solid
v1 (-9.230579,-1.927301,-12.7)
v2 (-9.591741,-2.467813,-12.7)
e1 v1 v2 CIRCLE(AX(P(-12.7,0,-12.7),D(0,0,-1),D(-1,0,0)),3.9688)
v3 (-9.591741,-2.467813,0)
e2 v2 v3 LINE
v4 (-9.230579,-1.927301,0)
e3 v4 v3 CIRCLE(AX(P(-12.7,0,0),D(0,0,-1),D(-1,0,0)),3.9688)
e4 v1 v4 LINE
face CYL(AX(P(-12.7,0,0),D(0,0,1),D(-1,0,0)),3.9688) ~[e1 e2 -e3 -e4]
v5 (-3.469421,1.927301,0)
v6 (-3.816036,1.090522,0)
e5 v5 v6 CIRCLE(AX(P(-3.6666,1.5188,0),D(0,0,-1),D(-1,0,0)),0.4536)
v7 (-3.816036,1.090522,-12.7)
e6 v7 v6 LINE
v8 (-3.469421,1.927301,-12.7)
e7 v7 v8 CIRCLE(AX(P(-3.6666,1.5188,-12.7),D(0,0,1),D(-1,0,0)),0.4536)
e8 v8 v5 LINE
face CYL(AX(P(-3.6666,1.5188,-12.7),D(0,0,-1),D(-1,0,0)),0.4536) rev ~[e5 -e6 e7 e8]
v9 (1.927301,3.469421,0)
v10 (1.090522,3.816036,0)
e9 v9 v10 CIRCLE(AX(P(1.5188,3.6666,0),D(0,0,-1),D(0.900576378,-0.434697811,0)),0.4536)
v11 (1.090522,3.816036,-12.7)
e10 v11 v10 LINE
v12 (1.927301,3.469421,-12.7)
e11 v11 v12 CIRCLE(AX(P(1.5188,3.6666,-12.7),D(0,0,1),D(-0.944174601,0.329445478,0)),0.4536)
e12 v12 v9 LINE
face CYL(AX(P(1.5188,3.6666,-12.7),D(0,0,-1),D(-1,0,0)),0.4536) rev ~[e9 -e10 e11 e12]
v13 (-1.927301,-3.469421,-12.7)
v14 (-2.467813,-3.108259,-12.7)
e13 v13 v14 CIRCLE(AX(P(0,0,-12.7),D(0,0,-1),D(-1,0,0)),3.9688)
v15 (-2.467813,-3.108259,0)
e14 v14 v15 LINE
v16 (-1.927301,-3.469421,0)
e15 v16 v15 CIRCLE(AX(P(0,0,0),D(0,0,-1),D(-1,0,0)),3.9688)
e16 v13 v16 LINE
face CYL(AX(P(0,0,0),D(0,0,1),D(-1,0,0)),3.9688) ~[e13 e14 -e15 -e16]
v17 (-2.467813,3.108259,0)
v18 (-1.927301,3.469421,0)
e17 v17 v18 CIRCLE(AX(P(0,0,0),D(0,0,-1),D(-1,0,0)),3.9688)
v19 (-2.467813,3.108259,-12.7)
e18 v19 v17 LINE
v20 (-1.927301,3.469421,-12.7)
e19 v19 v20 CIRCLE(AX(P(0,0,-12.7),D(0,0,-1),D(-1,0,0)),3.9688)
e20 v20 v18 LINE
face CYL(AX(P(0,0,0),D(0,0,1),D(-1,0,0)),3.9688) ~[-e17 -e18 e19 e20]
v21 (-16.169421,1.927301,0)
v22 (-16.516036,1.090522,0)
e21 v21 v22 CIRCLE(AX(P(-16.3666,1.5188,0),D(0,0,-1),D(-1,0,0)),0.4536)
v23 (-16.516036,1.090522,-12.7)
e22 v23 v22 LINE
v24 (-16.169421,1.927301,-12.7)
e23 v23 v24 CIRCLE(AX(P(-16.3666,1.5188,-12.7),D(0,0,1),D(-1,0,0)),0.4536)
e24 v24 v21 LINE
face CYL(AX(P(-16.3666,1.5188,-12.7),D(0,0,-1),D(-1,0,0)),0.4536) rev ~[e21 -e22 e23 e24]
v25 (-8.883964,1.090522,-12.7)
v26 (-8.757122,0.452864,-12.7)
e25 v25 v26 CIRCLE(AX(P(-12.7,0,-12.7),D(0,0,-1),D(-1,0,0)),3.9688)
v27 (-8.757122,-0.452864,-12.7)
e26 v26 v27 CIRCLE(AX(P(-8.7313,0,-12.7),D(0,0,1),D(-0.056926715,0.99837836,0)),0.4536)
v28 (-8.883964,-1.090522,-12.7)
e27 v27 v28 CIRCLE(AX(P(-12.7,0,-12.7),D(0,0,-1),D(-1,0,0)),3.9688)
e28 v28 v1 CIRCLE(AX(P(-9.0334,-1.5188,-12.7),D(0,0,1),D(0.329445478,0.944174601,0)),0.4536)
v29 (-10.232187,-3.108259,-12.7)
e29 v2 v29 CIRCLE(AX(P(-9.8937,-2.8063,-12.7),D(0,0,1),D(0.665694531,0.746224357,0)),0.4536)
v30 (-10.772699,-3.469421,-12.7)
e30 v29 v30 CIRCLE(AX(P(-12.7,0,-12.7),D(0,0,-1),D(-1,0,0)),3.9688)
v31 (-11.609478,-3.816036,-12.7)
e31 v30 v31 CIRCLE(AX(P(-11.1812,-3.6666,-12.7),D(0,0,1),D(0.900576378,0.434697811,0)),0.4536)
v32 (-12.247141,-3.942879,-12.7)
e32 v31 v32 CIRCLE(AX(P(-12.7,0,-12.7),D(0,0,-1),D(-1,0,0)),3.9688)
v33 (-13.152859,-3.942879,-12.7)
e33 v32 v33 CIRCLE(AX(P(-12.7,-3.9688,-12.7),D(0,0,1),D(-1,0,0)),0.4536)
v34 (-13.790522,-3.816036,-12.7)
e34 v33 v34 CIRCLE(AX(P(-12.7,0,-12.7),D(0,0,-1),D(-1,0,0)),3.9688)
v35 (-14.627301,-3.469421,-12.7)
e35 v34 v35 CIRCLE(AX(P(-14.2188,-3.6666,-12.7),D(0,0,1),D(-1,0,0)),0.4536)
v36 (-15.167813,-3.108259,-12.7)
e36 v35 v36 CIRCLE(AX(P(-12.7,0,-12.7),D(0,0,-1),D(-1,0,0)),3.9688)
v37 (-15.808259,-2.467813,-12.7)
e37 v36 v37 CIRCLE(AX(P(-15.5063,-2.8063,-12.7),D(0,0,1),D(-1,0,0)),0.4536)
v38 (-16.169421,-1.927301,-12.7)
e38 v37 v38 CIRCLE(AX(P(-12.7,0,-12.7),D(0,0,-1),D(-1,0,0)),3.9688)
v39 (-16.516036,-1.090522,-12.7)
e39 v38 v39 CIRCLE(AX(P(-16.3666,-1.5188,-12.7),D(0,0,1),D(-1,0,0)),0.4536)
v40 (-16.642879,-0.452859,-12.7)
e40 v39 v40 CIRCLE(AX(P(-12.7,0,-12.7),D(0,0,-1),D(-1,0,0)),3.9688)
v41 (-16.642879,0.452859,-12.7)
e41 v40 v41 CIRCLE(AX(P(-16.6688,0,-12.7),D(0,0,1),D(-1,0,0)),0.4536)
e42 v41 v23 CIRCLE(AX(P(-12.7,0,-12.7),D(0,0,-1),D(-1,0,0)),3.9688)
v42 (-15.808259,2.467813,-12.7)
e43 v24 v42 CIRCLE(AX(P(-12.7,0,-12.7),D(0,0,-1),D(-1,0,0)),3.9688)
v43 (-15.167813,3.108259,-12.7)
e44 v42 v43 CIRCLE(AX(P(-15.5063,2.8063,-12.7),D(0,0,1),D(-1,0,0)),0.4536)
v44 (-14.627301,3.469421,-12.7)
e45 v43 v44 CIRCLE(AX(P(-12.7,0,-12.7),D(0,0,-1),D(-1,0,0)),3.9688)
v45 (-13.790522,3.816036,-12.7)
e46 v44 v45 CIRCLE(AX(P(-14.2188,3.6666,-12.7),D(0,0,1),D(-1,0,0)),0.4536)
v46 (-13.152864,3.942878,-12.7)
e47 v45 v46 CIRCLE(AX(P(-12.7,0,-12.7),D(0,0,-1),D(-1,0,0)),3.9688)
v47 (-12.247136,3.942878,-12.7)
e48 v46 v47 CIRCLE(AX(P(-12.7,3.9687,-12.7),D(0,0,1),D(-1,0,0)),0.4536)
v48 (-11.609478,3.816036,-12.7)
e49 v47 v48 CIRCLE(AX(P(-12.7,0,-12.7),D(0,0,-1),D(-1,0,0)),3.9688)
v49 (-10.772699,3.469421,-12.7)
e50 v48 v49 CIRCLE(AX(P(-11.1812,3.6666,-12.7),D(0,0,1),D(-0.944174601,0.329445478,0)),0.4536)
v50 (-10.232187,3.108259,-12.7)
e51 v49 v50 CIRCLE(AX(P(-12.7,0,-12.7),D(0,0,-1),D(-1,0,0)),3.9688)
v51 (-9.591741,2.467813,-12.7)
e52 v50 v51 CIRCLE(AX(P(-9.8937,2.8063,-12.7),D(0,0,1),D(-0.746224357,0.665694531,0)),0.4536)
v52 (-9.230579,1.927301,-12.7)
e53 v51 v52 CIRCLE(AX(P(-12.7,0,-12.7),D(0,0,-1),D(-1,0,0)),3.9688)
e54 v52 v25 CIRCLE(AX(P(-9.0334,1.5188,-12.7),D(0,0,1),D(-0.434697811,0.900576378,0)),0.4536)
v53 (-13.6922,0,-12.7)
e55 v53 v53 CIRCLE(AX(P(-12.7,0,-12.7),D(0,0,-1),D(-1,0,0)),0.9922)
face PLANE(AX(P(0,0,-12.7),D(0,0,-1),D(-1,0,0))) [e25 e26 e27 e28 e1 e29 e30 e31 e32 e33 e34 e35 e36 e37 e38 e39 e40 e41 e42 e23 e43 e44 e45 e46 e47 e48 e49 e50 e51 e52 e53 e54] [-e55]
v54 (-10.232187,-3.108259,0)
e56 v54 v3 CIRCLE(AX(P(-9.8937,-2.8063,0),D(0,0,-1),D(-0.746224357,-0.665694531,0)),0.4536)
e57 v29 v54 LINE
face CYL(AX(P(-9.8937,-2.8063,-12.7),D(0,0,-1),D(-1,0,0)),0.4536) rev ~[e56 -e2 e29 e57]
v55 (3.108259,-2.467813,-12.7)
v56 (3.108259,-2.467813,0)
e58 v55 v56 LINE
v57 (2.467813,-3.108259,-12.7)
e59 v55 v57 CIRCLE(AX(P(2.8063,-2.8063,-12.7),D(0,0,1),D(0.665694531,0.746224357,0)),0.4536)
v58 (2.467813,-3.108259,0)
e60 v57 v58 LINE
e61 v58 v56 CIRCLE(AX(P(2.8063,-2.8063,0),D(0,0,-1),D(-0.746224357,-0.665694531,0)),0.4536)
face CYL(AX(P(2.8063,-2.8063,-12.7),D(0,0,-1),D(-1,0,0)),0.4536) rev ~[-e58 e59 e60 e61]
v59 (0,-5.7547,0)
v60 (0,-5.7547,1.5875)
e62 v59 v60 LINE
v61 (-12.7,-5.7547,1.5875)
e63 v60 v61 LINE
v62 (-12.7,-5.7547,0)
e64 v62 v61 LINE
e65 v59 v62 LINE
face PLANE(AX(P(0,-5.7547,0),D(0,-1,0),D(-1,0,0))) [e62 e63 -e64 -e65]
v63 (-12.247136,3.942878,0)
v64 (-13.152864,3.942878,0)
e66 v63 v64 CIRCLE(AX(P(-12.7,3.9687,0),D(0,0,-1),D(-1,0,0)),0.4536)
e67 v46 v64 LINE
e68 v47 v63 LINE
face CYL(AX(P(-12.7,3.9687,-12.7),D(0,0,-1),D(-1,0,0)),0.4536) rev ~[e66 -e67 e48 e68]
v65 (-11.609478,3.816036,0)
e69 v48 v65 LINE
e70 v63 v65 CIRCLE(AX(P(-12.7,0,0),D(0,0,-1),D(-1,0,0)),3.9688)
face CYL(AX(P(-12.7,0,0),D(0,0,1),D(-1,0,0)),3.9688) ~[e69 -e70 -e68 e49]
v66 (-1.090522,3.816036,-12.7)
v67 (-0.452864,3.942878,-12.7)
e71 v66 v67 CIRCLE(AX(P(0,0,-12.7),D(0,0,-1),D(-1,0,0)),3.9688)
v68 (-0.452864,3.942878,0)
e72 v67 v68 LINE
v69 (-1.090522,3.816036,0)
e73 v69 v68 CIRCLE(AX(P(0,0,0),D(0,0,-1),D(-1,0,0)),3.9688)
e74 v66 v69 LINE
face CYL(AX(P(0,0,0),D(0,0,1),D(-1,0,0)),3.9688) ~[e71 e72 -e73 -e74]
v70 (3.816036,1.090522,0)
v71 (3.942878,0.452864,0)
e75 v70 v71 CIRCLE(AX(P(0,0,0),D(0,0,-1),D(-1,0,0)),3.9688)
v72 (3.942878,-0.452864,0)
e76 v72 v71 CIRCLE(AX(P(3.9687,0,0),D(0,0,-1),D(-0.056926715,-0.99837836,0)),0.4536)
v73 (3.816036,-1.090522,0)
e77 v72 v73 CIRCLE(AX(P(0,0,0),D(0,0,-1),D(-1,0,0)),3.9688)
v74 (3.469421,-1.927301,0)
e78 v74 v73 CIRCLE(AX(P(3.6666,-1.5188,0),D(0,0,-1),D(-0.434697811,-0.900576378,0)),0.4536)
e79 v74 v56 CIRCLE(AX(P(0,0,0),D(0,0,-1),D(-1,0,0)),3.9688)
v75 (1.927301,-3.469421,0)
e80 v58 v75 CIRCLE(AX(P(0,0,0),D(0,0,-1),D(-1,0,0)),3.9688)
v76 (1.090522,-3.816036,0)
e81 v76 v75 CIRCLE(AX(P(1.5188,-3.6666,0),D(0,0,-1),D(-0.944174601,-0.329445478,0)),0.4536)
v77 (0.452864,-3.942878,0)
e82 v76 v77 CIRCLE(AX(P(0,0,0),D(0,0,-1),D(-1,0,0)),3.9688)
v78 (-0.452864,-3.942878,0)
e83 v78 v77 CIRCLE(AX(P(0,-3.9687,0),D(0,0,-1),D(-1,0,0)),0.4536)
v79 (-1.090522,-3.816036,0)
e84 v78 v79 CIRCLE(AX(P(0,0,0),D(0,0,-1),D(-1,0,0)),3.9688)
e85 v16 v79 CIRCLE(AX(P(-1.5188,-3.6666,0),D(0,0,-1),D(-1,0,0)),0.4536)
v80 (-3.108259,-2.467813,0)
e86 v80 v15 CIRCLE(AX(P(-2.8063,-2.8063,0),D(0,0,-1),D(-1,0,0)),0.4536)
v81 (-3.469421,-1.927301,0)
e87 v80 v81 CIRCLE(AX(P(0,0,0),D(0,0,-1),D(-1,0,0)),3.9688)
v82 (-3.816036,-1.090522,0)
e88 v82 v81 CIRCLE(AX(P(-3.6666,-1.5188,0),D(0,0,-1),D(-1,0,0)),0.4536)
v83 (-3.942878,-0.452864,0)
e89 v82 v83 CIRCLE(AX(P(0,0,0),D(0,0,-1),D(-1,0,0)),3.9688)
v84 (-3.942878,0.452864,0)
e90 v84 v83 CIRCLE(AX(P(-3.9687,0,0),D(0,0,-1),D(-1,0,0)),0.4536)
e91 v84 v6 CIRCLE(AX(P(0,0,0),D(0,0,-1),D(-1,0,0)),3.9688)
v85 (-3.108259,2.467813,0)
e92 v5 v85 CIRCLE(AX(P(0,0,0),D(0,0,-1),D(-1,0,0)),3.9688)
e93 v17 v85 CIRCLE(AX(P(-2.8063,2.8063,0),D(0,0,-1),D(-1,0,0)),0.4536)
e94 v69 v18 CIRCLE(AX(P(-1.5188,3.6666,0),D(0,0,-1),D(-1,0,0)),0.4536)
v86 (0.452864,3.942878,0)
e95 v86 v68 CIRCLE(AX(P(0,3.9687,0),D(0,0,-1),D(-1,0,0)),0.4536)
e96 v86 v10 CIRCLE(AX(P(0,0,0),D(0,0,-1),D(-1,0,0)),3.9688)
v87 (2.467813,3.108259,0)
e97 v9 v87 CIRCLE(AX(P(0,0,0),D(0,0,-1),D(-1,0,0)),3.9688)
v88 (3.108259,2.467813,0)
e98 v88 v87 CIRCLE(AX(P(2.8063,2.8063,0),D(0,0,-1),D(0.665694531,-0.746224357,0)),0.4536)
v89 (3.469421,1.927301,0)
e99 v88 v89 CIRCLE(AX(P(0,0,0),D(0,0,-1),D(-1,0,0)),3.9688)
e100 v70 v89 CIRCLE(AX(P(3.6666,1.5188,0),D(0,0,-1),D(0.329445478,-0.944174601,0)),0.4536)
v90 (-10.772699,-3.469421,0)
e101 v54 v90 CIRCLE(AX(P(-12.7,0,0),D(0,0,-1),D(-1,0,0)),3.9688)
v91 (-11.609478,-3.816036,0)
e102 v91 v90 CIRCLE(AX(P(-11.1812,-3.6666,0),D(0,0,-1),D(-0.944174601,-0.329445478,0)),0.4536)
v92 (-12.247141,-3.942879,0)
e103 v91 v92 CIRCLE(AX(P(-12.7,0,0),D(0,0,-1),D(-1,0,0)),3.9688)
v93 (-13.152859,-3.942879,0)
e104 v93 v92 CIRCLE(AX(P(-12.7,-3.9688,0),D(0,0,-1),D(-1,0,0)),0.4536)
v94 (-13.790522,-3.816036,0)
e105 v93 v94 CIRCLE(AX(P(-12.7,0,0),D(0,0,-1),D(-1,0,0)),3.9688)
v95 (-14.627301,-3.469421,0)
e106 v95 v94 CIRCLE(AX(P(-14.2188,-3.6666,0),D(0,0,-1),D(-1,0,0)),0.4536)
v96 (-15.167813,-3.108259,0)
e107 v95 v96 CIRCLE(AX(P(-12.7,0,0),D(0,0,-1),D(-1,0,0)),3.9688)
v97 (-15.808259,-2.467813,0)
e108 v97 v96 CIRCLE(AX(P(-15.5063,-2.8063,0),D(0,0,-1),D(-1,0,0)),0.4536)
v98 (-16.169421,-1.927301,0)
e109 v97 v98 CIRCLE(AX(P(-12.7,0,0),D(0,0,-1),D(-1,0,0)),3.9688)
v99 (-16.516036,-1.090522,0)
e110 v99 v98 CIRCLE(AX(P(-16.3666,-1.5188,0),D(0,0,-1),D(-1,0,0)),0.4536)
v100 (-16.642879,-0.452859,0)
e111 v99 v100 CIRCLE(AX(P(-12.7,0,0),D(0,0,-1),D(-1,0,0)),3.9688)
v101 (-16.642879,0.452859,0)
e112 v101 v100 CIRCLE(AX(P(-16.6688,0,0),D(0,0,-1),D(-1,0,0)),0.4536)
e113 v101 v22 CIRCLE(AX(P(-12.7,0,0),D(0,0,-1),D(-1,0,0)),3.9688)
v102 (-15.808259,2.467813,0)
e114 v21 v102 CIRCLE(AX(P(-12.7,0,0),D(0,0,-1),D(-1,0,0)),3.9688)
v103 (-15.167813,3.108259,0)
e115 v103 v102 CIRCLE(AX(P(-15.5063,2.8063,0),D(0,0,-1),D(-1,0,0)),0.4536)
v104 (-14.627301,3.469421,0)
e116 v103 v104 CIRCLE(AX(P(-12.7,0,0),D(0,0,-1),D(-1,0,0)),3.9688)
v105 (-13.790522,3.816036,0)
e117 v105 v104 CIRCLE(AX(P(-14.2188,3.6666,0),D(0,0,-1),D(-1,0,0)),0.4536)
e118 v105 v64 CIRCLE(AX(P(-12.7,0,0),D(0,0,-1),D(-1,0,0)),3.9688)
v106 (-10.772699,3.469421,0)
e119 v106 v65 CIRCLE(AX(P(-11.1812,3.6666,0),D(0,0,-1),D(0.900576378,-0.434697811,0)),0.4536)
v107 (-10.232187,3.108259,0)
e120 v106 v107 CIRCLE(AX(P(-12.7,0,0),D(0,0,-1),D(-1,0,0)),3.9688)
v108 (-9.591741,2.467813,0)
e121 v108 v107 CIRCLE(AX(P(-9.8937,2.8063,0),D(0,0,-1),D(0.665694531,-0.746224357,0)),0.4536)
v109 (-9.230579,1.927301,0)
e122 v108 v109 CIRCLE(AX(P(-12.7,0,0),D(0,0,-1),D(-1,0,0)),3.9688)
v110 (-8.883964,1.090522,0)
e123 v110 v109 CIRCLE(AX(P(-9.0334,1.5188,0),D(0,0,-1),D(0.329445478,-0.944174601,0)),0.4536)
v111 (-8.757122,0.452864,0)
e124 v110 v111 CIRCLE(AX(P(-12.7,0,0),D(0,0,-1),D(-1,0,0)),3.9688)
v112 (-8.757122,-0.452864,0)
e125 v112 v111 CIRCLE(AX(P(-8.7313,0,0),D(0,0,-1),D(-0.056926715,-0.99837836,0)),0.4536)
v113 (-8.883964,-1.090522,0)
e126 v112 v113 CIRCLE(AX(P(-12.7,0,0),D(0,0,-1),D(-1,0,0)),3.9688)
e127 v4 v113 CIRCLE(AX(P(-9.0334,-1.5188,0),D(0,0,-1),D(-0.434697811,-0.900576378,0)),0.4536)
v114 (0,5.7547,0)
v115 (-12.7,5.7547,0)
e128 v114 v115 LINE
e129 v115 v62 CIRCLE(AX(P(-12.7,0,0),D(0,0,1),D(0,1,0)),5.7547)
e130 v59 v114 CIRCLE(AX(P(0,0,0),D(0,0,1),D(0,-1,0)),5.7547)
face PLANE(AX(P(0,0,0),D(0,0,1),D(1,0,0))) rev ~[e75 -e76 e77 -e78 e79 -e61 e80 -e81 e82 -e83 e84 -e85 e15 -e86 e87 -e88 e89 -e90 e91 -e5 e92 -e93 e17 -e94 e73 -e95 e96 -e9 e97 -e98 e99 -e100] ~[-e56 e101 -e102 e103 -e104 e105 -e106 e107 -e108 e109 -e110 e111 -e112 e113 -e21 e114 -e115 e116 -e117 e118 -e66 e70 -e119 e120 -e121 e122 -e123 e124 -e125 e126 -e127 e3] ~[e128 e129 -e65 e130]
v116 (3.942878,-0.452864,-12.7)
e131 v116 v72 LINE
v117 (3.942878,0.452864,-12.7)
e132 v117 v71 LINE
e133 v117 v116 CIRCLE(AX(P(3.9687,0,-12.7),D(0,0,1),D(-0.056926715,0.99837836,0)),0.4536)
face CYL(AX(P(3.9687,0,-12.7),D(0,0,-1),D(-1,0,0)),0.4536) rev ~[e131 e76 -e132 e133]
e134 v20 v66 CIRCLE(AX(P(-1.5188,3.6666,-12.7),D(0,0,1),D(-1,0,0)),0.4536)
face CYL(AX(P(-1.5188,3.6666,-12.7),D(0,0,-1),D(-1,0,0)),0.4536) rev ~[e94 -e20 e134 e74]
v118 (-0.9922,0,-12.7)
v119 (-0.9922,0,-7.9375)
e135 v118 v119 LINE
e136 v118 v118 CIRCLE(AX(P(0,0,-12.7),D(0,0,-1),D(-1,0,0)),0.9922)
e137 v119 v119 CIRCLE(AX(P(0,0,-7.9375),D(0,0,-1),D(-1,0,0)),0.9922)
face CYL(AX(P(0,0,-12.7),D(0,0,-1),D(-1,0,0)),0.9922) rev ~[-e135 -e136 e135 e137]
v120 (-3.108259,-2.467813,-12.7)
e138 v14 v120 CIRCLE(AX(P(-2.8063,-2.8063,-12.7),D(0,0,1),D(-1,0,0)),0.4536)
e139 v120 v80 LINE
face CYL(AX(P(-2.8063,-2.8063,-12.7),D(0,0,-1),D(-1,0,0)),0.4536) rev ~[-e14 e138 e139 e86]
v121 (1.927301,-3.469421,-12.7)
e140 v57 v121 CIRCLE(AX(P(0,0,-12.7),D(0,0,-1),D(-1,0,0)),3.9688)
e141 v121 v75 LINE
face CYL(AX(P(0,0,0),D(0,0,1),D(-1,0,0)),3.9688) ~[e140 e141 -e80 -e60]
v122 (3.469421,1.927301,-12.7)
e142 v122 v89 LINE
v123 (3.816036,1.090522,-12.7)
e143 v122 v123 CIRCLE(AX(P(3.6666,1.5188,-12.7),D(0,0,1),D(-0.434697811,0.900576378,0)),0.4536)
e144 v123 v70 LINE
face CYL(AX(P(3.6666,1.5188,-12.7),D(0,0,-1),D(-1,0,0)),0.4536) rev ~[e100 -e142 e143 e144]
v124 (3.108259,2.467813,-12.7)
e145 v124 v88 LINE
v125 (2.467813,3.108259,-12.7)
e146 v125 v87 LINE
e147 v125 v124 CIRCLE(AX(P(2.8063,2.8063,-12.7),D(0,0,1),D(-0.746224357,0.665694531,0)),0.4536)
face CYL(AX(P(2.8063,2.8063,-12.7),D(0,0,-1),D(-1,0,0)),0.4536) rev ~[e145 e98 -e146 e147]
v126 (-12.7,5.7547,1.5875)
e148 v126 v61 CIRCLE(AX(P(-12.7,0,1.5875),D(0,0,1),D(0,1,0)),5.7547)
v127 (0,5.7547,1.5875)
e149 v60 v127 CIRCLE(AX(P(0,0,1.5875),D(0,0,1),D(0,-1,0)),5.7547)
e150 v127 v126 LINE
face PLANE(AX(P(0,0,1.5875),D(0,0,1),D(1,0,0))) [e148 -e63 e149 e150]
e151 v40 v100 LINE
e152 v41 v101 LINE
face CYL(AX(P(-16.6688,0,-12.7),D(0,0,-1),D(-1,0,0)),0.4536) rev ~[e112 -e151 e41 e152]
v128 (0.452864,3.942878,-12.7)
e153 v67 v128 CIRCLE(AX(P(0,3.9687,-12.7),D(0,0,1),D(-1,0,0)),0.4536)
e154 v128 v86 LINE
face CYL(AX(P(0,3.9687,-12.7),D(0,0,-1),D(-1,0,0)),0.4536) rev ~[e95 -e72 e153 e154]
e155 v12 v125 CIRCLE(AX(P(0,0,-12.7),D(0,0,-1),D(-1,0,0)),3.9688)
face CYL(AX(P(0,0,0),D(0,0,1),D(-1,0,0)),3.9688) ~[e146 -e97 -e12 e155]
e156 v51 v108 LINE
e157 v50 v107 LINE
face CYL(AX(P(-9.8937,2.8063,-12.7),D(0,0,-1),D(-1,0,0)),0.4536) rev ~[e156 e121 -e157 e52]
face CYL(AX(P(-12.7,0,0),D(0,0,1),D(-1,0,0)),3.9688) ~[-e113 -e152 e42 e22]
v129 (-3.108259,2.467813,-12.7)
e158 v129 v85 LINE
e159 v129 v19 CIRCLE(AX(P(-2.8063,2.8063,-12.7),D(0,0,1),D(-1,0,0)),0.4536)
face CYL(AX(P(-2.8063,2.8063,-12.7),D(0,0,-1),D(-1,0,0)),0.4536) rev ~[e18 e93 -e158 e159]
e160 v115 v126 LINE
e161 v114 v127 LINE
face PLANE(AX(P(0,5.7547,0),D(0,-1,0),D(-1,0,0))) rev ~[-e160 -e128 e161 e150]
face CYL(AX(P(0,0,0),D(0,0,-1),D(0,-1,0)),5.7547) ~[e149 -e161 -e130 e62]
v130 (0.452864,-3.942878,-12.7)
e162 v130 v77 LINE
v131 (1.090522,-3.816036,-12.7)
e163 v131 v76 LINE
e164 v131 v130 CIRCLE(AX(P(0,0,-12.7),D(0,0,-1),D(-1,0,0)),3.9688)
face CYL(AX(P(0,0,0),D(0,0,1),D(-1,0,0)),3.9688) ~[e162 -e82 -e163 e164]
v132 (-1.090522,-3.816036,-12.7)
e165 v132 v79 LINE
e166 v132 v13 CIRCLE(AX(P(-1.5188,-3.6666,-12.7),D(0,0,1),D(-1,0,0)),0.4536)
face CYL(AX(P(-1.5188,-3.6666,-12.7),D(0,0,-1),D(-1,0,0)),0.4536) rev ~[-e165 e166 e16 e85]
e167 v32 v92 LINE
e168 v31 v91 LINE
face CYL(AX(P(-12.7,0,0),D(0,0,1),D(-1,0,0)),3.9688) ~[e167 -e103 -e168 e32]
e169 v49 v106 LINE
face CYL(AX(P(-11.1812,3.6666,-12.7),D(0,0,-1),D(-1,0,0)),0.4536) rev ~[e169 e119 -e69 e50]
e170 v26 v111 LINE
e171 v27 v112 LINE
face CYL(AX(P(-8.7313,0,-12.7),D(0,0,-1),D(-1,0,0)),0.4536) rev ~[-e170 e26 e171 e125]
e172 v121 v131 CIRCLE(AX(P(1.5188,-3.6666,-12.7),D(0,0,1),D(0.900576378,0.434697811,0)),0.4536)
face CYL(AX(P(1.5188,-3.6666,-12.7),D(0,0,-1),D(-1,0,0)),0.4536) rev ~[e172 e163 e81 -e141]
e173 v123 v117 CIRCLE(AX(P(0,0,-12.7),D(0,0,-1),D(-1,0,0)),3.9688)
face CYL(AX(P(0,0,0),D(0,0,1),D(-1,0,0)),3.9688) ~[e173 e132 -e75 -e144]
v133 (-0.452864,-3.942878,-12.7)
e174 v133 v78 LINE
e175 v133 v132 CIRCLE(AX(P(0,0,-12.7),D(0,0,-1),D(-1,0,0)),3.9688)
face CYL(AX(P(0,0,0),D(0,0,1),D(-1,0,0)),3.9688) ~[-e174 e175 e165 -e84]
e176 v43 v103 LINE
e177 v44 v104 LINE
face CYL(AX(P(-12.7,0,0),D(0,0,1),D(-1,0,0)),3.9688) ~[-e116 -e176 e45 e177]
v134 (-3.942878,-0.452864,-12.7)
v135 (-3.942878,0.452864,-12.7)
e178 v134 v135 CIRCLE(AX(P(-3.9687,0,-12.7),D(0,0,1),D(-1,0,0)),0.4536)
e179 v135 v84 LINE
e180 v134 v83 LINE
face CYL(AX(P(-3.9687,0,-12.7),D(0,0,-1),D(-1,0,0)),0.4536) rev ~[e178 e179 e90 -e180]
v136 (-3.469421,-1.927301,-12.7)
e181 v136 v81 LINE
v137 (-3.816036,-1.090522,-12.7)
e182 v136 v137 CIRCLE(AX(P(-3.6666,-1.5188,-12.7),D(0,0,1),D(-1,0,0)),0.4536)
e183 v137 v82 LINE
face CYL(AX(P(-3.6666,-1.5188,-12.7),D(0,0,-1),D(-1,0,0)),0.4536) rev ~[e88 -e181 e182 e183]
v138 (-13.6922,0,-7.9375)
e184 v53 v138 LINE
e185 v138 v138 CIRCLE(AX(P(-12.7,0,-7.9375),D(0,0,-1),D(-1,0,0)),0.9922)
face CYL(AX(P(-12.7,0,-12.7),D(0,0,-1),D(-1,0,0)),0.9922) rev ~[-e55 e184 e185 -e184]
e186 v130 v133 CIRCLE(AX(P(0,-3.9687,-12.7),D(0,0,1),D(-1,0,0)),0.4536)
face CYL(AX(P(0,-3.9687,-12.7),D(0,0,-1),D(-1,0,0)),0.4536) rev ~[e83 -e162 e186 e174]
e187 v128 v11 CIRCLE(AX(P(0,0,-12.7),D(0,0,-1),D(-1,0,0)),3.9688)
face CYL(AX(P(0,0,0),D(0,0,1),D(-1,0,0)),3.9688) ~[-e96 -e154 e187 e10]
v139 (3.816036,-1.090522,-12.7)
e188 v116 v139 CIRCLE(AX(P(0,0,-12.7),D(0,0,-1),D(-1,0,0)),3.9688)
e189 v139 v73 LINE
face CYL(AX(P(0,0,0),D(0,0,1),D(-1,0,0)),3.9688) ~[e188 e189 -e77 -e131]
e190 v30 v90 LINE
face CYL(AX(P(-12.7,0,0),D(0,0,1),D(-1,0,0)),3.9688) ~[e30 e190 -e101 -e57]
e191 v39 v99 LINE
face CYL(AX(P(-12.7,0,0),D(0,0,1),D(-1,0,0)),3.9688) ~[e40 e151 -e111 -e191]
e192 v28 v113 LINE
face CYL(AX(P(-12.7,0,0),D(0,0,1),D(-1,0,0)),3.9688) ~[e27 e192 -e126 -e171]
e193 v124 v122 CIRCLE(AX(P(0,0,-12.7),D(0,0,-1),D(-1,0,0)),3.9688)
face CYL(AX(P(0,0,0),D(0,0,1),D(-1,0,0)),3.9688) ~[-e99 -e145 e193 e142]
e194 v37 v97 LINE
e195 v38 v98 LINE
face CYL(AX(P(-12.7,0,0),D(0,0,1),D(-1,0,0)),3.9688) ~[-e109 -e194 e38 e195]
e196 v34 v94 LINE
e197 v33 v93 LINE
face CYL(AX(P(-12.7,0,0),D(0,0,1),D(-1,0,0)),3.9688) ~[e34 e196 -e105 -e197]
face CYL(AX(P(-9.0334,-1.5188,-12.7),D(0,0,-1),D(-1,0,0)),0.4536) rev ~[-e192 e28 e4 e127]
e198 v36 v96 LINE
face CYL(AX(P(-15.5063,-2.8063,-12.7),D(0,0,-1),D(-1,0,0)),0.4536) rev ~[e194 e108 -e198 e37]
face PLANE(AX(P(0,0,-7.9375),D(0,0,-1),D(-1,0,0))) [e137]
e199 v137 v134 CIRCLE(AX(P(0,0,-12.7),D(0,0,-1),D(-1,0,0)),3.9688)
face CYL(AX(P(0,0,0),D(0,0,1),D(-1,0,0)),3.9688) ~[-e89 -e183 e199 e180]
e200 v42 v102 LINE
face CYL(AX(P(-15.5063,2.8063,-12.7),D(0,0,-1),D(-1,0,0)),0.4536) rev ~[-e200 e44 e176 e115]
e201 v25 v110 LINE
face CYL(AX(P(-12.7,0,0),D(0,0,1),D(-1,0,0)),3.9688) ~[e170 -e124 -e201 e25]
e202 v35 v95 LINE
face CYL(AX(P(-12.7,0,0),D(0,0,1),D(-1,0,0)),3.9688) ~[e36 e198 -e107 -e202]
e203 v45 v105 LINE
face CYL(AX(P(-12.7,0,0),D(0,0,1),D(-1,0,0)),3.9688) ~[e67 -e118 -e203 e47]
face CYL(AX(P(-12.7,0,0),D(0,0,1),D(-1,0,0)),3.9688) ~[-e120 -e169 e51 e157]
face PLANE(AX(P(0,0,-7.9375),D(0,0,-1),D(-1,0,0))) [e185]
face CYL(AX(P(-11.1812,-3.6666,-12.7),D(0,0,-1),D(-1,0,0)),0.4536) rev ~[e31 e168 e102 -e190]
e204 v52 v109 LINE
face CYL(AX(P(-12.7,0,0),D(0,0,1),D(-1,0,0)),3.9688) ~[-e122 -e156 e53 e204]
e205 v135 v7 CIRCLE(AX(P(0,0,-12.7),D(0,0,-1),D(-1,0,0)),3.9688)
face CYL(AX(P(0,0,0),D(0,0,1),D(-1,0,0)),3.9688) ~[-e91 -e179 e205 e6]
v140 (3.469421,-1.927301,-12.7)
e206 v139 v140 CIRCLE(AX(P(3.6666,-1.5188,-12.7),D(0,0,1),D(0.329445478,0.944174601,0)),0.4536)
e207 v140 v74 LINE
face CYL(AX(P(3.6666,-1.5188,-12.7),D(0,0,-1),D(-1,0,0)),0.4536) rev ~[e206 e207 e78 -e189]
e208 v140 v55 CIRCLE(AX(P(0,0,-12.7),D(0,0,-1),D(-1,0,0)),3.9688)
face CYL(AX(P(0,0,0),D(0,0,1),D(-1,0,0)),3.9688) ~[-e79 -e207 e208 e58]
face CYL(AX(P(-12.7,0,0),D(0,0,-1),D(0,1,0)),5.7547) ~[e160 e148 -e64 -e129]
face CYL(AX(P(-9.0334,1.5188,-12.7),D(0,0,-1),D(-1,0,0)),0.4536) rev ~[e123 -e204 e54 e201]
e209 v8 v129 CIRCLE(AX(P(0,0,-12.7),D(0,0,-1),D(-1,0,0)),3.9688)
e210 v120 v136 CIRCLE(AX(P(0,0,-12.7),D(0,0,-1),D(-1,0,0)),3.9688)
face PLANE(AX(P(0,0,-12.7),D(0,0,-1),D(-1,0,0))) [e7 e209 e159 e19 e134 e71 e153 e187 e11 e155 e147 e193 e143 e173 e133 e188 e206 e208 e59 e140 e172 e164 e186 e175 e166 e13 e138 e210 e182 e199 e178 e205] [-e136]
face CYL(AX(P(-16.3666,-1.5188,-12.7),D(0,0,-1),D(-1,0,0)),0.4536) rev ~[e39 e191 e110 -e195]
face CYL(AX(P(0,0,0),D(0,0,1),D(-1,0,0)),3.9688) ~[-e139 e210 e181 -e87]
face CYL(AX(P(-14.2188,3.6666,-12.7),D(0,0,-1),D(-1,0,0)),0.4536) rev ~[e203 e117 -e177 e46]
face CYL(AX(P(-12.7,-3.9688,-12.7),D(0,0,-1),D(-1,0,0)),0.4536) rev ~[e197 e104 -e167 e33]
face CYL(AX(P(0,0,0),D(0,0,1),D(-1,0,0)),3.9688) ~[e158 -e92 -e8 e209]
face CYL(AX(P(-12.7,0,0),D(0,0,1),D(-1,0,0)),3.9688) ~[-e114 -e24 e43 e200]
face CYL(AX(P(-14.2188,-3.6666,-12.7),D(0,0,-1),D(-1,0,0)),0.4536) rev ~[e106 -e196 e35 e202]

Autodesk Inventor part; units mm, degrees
ref_plane "YZ Plane" through (0, 0, 0) normal (1, 0, 0) x (0, 1, 0)
ref_plane "XZ Plane" through (0, 0, 0) normal (0, 1, 0) x (-1, 0, 0)
ref_plane "XY Plane" through (0, 0, 0) normal (0, 0, 1) x (1, 0, 0)
sketch "Sketch12" plane through (0, 0, 0) normal (0, 0, 1) x (1, 0, 0)
  arc A0 (0, -5.7547) -> (0, 5.7547) centre (0, 0) ccw
  arc A1 (-12.7, 5.7547) -> (-12.7, -5.7547) centre (-12.7, 0) ccw
  line L0 (0, 5.7547) -> (-12.7, 5.7547)
  line L1 (0, -5.7547) -> (-12.7, -5.7547)
  dimension "d105" = 5.7547
  dimension "d106" = 12.7
extrude "Extrusion9" add sketch "Sketch12" along normal blind 1.5875
sketch "Sketch13" plane through (0, 0, 0) normal (0, 0, -1) x (-1, 0, 0)
  arc A0 (0, 5.7547) -> (0, -5.7547) centre (0, 0) ccw projected
  circle A1 centre (0, 0) radius 3.9688
  arc A2 (12.7, -5.7547) -> (12.7, 5.7547) centre (12.7, 0) ccw projected
  circle A3 centre (12.7, 0) radius 3.9688
  dimension "d109" = 7.9375
  dimension "d110" = 7.9375
extrude "Extrusion10" add sketch "Sketch13" along normal blind 12.7
sketch "Sketch14" plane through (0, 0, -12.7) normal (0, 0, -1) x (-1, 0, 0)
  circle A0 centre (0, 0) radius 3.9687 projected
  circle A1 centre (0, 3.9687) radius 0.4536
  circle A2 centre (12.7, 0) radius 3.9687 projected
  circle A3 centre (12.7, 3.9687) radius 0.4536
  circle A4 centre (-1.5188, 3.6666) radius 0.4536
  circle A5 centre (-2.8063, 2.8063) radius 0.4536
  circle A6 centre (-3.6666, 1.5188) radius 0.4536
  circle A7 centre (-3.9687, 0) radius 0.4536
  circle A8 centre (-3.6666, -1.5188) radius 0.4536
  circle A9 centre (-2.8063, -2.8063) radius 0.4536
  circle A10 centre (-1.5188, -3.6666) radius 0.4536
  circle A11 centre (0, -3.9687) radius 0.4536
  circle A12 centre (1.5188, -3.6666) radius 0.4536
  circle A13 centre (2.8063, -2.8063) radius 0.4536
  circle A14 centre (3.6666, -1.5188) radius 0.4536
  circle A15 centre (11.1812, 3.6666) radius 0.4536
  circle A16 centre (9.8937, 2.8063) radius 0.4536
  circle A17 centre (9.0334, 1.5188) radius 0.4536
  circle A18 centre (8.7313, 0) radius 0.4536
  circle A19 centre (9.0334, -1.5188) radius 0.4536
  circle A20 centre (9.8937, -2.8063) radius 0.4536
  circle A21 centre (11.1812, -3.6666) radius 0.4536
  circle A22 centre (12.7, -3.9688) radius 0.4536
  circle A23 centre (14.2188, -3.6666) radius 0.4536
  circle A24 centre (15.5063, -2.8063) radius 0.4536
  circle A25 centre (16.3666, -1.5188) radius 0.4536
  circle A26 centre (3.9687, 0) radius 0.4536
  circle A27 centre (3.6666, 1.5188) radius 0.4536
  circle A28 centre (2.8063, 2.8063) radius 0.4536
  circle A29 centre (1.5188, 3.6666) radius 0.4536
  circle A30 centre (16.6688, 0) radius 0.4536
  circle A31 centre (16.3666, 1.5188) radius 0.4536
  circle A32 centre (15.5063, 2.8063) radius 0.4536
  circle A33 centre (14.2188, 3.6666) radius 0.4536
  dimension "d113" = 0.9071
  dimension "d114" = 0.9071
  dimension "d117" = 360
  dimension "d121" = 360
sketch "Sketch15" plane through (0, 0, -12.7) normal (0, 0, -1) x (-1, 0, 0)
  circle A0 centre (0, 0) radius 0.9922
  arc A1 (12.7, -5.7547) -> (12.7, 5.7547) centre (12.7, 0) ccw projected
  circle A2 centre (12.7, 0) radius 0.9922
  dimension "d125" = 1.9844
  dimension "d126" = 1.9844
extrude "Extrusion12" cut sketch "Sketch15" against normal blind 4.7625
extrude "Extrusion14" cut sketch "Sketch14" against normal up to surface (12.7 mm away) contours A0 A26 | A0 A26 | A27 A0 | A0 A27 | A14 A0 | A0 A14 | A28 A0 | A0 A28 | A13 A0 | A0 A13 | A29 A0 | A0 A29 | A12 A0 | A0 A12 | A1 A0 | A0 A1 | A11 A0 | A0 A11 | A4 A0 | A0 A4 | A10 A0 | A0 A10 | A5 A0 | A0 A5 | A9 A0 | A0 A9 | A6 A0 | A0 A6 | A8 A0 | A0 A8 | A7 A0 | A0 A7 | A2 A30 | A2 A30 | A31 A2 | A2 A31 | A25 A2 | A2 A25 | A32 A2 | A2 A32 | A24 A2 | A2 A24 | A33 A2 | A2 A33 | A23 A2 | A2 A23 | A3 A2 | A2 A3 | A22 A2 | A2 A22 | A15 A2 | A2 A15 | A21 A2 | A2 A21 | A16 A2 | A2 A16 | A20 A2 | A2 A20 | A17 A2 | A2 A17 | A19 A2 | A2 A19 | A18 A2 | A2 A18
equation "\"d110\" = d109"
equation "\"d114\" = d113"
equation "\"d126\" = d125"
properties part number "arm-base"
